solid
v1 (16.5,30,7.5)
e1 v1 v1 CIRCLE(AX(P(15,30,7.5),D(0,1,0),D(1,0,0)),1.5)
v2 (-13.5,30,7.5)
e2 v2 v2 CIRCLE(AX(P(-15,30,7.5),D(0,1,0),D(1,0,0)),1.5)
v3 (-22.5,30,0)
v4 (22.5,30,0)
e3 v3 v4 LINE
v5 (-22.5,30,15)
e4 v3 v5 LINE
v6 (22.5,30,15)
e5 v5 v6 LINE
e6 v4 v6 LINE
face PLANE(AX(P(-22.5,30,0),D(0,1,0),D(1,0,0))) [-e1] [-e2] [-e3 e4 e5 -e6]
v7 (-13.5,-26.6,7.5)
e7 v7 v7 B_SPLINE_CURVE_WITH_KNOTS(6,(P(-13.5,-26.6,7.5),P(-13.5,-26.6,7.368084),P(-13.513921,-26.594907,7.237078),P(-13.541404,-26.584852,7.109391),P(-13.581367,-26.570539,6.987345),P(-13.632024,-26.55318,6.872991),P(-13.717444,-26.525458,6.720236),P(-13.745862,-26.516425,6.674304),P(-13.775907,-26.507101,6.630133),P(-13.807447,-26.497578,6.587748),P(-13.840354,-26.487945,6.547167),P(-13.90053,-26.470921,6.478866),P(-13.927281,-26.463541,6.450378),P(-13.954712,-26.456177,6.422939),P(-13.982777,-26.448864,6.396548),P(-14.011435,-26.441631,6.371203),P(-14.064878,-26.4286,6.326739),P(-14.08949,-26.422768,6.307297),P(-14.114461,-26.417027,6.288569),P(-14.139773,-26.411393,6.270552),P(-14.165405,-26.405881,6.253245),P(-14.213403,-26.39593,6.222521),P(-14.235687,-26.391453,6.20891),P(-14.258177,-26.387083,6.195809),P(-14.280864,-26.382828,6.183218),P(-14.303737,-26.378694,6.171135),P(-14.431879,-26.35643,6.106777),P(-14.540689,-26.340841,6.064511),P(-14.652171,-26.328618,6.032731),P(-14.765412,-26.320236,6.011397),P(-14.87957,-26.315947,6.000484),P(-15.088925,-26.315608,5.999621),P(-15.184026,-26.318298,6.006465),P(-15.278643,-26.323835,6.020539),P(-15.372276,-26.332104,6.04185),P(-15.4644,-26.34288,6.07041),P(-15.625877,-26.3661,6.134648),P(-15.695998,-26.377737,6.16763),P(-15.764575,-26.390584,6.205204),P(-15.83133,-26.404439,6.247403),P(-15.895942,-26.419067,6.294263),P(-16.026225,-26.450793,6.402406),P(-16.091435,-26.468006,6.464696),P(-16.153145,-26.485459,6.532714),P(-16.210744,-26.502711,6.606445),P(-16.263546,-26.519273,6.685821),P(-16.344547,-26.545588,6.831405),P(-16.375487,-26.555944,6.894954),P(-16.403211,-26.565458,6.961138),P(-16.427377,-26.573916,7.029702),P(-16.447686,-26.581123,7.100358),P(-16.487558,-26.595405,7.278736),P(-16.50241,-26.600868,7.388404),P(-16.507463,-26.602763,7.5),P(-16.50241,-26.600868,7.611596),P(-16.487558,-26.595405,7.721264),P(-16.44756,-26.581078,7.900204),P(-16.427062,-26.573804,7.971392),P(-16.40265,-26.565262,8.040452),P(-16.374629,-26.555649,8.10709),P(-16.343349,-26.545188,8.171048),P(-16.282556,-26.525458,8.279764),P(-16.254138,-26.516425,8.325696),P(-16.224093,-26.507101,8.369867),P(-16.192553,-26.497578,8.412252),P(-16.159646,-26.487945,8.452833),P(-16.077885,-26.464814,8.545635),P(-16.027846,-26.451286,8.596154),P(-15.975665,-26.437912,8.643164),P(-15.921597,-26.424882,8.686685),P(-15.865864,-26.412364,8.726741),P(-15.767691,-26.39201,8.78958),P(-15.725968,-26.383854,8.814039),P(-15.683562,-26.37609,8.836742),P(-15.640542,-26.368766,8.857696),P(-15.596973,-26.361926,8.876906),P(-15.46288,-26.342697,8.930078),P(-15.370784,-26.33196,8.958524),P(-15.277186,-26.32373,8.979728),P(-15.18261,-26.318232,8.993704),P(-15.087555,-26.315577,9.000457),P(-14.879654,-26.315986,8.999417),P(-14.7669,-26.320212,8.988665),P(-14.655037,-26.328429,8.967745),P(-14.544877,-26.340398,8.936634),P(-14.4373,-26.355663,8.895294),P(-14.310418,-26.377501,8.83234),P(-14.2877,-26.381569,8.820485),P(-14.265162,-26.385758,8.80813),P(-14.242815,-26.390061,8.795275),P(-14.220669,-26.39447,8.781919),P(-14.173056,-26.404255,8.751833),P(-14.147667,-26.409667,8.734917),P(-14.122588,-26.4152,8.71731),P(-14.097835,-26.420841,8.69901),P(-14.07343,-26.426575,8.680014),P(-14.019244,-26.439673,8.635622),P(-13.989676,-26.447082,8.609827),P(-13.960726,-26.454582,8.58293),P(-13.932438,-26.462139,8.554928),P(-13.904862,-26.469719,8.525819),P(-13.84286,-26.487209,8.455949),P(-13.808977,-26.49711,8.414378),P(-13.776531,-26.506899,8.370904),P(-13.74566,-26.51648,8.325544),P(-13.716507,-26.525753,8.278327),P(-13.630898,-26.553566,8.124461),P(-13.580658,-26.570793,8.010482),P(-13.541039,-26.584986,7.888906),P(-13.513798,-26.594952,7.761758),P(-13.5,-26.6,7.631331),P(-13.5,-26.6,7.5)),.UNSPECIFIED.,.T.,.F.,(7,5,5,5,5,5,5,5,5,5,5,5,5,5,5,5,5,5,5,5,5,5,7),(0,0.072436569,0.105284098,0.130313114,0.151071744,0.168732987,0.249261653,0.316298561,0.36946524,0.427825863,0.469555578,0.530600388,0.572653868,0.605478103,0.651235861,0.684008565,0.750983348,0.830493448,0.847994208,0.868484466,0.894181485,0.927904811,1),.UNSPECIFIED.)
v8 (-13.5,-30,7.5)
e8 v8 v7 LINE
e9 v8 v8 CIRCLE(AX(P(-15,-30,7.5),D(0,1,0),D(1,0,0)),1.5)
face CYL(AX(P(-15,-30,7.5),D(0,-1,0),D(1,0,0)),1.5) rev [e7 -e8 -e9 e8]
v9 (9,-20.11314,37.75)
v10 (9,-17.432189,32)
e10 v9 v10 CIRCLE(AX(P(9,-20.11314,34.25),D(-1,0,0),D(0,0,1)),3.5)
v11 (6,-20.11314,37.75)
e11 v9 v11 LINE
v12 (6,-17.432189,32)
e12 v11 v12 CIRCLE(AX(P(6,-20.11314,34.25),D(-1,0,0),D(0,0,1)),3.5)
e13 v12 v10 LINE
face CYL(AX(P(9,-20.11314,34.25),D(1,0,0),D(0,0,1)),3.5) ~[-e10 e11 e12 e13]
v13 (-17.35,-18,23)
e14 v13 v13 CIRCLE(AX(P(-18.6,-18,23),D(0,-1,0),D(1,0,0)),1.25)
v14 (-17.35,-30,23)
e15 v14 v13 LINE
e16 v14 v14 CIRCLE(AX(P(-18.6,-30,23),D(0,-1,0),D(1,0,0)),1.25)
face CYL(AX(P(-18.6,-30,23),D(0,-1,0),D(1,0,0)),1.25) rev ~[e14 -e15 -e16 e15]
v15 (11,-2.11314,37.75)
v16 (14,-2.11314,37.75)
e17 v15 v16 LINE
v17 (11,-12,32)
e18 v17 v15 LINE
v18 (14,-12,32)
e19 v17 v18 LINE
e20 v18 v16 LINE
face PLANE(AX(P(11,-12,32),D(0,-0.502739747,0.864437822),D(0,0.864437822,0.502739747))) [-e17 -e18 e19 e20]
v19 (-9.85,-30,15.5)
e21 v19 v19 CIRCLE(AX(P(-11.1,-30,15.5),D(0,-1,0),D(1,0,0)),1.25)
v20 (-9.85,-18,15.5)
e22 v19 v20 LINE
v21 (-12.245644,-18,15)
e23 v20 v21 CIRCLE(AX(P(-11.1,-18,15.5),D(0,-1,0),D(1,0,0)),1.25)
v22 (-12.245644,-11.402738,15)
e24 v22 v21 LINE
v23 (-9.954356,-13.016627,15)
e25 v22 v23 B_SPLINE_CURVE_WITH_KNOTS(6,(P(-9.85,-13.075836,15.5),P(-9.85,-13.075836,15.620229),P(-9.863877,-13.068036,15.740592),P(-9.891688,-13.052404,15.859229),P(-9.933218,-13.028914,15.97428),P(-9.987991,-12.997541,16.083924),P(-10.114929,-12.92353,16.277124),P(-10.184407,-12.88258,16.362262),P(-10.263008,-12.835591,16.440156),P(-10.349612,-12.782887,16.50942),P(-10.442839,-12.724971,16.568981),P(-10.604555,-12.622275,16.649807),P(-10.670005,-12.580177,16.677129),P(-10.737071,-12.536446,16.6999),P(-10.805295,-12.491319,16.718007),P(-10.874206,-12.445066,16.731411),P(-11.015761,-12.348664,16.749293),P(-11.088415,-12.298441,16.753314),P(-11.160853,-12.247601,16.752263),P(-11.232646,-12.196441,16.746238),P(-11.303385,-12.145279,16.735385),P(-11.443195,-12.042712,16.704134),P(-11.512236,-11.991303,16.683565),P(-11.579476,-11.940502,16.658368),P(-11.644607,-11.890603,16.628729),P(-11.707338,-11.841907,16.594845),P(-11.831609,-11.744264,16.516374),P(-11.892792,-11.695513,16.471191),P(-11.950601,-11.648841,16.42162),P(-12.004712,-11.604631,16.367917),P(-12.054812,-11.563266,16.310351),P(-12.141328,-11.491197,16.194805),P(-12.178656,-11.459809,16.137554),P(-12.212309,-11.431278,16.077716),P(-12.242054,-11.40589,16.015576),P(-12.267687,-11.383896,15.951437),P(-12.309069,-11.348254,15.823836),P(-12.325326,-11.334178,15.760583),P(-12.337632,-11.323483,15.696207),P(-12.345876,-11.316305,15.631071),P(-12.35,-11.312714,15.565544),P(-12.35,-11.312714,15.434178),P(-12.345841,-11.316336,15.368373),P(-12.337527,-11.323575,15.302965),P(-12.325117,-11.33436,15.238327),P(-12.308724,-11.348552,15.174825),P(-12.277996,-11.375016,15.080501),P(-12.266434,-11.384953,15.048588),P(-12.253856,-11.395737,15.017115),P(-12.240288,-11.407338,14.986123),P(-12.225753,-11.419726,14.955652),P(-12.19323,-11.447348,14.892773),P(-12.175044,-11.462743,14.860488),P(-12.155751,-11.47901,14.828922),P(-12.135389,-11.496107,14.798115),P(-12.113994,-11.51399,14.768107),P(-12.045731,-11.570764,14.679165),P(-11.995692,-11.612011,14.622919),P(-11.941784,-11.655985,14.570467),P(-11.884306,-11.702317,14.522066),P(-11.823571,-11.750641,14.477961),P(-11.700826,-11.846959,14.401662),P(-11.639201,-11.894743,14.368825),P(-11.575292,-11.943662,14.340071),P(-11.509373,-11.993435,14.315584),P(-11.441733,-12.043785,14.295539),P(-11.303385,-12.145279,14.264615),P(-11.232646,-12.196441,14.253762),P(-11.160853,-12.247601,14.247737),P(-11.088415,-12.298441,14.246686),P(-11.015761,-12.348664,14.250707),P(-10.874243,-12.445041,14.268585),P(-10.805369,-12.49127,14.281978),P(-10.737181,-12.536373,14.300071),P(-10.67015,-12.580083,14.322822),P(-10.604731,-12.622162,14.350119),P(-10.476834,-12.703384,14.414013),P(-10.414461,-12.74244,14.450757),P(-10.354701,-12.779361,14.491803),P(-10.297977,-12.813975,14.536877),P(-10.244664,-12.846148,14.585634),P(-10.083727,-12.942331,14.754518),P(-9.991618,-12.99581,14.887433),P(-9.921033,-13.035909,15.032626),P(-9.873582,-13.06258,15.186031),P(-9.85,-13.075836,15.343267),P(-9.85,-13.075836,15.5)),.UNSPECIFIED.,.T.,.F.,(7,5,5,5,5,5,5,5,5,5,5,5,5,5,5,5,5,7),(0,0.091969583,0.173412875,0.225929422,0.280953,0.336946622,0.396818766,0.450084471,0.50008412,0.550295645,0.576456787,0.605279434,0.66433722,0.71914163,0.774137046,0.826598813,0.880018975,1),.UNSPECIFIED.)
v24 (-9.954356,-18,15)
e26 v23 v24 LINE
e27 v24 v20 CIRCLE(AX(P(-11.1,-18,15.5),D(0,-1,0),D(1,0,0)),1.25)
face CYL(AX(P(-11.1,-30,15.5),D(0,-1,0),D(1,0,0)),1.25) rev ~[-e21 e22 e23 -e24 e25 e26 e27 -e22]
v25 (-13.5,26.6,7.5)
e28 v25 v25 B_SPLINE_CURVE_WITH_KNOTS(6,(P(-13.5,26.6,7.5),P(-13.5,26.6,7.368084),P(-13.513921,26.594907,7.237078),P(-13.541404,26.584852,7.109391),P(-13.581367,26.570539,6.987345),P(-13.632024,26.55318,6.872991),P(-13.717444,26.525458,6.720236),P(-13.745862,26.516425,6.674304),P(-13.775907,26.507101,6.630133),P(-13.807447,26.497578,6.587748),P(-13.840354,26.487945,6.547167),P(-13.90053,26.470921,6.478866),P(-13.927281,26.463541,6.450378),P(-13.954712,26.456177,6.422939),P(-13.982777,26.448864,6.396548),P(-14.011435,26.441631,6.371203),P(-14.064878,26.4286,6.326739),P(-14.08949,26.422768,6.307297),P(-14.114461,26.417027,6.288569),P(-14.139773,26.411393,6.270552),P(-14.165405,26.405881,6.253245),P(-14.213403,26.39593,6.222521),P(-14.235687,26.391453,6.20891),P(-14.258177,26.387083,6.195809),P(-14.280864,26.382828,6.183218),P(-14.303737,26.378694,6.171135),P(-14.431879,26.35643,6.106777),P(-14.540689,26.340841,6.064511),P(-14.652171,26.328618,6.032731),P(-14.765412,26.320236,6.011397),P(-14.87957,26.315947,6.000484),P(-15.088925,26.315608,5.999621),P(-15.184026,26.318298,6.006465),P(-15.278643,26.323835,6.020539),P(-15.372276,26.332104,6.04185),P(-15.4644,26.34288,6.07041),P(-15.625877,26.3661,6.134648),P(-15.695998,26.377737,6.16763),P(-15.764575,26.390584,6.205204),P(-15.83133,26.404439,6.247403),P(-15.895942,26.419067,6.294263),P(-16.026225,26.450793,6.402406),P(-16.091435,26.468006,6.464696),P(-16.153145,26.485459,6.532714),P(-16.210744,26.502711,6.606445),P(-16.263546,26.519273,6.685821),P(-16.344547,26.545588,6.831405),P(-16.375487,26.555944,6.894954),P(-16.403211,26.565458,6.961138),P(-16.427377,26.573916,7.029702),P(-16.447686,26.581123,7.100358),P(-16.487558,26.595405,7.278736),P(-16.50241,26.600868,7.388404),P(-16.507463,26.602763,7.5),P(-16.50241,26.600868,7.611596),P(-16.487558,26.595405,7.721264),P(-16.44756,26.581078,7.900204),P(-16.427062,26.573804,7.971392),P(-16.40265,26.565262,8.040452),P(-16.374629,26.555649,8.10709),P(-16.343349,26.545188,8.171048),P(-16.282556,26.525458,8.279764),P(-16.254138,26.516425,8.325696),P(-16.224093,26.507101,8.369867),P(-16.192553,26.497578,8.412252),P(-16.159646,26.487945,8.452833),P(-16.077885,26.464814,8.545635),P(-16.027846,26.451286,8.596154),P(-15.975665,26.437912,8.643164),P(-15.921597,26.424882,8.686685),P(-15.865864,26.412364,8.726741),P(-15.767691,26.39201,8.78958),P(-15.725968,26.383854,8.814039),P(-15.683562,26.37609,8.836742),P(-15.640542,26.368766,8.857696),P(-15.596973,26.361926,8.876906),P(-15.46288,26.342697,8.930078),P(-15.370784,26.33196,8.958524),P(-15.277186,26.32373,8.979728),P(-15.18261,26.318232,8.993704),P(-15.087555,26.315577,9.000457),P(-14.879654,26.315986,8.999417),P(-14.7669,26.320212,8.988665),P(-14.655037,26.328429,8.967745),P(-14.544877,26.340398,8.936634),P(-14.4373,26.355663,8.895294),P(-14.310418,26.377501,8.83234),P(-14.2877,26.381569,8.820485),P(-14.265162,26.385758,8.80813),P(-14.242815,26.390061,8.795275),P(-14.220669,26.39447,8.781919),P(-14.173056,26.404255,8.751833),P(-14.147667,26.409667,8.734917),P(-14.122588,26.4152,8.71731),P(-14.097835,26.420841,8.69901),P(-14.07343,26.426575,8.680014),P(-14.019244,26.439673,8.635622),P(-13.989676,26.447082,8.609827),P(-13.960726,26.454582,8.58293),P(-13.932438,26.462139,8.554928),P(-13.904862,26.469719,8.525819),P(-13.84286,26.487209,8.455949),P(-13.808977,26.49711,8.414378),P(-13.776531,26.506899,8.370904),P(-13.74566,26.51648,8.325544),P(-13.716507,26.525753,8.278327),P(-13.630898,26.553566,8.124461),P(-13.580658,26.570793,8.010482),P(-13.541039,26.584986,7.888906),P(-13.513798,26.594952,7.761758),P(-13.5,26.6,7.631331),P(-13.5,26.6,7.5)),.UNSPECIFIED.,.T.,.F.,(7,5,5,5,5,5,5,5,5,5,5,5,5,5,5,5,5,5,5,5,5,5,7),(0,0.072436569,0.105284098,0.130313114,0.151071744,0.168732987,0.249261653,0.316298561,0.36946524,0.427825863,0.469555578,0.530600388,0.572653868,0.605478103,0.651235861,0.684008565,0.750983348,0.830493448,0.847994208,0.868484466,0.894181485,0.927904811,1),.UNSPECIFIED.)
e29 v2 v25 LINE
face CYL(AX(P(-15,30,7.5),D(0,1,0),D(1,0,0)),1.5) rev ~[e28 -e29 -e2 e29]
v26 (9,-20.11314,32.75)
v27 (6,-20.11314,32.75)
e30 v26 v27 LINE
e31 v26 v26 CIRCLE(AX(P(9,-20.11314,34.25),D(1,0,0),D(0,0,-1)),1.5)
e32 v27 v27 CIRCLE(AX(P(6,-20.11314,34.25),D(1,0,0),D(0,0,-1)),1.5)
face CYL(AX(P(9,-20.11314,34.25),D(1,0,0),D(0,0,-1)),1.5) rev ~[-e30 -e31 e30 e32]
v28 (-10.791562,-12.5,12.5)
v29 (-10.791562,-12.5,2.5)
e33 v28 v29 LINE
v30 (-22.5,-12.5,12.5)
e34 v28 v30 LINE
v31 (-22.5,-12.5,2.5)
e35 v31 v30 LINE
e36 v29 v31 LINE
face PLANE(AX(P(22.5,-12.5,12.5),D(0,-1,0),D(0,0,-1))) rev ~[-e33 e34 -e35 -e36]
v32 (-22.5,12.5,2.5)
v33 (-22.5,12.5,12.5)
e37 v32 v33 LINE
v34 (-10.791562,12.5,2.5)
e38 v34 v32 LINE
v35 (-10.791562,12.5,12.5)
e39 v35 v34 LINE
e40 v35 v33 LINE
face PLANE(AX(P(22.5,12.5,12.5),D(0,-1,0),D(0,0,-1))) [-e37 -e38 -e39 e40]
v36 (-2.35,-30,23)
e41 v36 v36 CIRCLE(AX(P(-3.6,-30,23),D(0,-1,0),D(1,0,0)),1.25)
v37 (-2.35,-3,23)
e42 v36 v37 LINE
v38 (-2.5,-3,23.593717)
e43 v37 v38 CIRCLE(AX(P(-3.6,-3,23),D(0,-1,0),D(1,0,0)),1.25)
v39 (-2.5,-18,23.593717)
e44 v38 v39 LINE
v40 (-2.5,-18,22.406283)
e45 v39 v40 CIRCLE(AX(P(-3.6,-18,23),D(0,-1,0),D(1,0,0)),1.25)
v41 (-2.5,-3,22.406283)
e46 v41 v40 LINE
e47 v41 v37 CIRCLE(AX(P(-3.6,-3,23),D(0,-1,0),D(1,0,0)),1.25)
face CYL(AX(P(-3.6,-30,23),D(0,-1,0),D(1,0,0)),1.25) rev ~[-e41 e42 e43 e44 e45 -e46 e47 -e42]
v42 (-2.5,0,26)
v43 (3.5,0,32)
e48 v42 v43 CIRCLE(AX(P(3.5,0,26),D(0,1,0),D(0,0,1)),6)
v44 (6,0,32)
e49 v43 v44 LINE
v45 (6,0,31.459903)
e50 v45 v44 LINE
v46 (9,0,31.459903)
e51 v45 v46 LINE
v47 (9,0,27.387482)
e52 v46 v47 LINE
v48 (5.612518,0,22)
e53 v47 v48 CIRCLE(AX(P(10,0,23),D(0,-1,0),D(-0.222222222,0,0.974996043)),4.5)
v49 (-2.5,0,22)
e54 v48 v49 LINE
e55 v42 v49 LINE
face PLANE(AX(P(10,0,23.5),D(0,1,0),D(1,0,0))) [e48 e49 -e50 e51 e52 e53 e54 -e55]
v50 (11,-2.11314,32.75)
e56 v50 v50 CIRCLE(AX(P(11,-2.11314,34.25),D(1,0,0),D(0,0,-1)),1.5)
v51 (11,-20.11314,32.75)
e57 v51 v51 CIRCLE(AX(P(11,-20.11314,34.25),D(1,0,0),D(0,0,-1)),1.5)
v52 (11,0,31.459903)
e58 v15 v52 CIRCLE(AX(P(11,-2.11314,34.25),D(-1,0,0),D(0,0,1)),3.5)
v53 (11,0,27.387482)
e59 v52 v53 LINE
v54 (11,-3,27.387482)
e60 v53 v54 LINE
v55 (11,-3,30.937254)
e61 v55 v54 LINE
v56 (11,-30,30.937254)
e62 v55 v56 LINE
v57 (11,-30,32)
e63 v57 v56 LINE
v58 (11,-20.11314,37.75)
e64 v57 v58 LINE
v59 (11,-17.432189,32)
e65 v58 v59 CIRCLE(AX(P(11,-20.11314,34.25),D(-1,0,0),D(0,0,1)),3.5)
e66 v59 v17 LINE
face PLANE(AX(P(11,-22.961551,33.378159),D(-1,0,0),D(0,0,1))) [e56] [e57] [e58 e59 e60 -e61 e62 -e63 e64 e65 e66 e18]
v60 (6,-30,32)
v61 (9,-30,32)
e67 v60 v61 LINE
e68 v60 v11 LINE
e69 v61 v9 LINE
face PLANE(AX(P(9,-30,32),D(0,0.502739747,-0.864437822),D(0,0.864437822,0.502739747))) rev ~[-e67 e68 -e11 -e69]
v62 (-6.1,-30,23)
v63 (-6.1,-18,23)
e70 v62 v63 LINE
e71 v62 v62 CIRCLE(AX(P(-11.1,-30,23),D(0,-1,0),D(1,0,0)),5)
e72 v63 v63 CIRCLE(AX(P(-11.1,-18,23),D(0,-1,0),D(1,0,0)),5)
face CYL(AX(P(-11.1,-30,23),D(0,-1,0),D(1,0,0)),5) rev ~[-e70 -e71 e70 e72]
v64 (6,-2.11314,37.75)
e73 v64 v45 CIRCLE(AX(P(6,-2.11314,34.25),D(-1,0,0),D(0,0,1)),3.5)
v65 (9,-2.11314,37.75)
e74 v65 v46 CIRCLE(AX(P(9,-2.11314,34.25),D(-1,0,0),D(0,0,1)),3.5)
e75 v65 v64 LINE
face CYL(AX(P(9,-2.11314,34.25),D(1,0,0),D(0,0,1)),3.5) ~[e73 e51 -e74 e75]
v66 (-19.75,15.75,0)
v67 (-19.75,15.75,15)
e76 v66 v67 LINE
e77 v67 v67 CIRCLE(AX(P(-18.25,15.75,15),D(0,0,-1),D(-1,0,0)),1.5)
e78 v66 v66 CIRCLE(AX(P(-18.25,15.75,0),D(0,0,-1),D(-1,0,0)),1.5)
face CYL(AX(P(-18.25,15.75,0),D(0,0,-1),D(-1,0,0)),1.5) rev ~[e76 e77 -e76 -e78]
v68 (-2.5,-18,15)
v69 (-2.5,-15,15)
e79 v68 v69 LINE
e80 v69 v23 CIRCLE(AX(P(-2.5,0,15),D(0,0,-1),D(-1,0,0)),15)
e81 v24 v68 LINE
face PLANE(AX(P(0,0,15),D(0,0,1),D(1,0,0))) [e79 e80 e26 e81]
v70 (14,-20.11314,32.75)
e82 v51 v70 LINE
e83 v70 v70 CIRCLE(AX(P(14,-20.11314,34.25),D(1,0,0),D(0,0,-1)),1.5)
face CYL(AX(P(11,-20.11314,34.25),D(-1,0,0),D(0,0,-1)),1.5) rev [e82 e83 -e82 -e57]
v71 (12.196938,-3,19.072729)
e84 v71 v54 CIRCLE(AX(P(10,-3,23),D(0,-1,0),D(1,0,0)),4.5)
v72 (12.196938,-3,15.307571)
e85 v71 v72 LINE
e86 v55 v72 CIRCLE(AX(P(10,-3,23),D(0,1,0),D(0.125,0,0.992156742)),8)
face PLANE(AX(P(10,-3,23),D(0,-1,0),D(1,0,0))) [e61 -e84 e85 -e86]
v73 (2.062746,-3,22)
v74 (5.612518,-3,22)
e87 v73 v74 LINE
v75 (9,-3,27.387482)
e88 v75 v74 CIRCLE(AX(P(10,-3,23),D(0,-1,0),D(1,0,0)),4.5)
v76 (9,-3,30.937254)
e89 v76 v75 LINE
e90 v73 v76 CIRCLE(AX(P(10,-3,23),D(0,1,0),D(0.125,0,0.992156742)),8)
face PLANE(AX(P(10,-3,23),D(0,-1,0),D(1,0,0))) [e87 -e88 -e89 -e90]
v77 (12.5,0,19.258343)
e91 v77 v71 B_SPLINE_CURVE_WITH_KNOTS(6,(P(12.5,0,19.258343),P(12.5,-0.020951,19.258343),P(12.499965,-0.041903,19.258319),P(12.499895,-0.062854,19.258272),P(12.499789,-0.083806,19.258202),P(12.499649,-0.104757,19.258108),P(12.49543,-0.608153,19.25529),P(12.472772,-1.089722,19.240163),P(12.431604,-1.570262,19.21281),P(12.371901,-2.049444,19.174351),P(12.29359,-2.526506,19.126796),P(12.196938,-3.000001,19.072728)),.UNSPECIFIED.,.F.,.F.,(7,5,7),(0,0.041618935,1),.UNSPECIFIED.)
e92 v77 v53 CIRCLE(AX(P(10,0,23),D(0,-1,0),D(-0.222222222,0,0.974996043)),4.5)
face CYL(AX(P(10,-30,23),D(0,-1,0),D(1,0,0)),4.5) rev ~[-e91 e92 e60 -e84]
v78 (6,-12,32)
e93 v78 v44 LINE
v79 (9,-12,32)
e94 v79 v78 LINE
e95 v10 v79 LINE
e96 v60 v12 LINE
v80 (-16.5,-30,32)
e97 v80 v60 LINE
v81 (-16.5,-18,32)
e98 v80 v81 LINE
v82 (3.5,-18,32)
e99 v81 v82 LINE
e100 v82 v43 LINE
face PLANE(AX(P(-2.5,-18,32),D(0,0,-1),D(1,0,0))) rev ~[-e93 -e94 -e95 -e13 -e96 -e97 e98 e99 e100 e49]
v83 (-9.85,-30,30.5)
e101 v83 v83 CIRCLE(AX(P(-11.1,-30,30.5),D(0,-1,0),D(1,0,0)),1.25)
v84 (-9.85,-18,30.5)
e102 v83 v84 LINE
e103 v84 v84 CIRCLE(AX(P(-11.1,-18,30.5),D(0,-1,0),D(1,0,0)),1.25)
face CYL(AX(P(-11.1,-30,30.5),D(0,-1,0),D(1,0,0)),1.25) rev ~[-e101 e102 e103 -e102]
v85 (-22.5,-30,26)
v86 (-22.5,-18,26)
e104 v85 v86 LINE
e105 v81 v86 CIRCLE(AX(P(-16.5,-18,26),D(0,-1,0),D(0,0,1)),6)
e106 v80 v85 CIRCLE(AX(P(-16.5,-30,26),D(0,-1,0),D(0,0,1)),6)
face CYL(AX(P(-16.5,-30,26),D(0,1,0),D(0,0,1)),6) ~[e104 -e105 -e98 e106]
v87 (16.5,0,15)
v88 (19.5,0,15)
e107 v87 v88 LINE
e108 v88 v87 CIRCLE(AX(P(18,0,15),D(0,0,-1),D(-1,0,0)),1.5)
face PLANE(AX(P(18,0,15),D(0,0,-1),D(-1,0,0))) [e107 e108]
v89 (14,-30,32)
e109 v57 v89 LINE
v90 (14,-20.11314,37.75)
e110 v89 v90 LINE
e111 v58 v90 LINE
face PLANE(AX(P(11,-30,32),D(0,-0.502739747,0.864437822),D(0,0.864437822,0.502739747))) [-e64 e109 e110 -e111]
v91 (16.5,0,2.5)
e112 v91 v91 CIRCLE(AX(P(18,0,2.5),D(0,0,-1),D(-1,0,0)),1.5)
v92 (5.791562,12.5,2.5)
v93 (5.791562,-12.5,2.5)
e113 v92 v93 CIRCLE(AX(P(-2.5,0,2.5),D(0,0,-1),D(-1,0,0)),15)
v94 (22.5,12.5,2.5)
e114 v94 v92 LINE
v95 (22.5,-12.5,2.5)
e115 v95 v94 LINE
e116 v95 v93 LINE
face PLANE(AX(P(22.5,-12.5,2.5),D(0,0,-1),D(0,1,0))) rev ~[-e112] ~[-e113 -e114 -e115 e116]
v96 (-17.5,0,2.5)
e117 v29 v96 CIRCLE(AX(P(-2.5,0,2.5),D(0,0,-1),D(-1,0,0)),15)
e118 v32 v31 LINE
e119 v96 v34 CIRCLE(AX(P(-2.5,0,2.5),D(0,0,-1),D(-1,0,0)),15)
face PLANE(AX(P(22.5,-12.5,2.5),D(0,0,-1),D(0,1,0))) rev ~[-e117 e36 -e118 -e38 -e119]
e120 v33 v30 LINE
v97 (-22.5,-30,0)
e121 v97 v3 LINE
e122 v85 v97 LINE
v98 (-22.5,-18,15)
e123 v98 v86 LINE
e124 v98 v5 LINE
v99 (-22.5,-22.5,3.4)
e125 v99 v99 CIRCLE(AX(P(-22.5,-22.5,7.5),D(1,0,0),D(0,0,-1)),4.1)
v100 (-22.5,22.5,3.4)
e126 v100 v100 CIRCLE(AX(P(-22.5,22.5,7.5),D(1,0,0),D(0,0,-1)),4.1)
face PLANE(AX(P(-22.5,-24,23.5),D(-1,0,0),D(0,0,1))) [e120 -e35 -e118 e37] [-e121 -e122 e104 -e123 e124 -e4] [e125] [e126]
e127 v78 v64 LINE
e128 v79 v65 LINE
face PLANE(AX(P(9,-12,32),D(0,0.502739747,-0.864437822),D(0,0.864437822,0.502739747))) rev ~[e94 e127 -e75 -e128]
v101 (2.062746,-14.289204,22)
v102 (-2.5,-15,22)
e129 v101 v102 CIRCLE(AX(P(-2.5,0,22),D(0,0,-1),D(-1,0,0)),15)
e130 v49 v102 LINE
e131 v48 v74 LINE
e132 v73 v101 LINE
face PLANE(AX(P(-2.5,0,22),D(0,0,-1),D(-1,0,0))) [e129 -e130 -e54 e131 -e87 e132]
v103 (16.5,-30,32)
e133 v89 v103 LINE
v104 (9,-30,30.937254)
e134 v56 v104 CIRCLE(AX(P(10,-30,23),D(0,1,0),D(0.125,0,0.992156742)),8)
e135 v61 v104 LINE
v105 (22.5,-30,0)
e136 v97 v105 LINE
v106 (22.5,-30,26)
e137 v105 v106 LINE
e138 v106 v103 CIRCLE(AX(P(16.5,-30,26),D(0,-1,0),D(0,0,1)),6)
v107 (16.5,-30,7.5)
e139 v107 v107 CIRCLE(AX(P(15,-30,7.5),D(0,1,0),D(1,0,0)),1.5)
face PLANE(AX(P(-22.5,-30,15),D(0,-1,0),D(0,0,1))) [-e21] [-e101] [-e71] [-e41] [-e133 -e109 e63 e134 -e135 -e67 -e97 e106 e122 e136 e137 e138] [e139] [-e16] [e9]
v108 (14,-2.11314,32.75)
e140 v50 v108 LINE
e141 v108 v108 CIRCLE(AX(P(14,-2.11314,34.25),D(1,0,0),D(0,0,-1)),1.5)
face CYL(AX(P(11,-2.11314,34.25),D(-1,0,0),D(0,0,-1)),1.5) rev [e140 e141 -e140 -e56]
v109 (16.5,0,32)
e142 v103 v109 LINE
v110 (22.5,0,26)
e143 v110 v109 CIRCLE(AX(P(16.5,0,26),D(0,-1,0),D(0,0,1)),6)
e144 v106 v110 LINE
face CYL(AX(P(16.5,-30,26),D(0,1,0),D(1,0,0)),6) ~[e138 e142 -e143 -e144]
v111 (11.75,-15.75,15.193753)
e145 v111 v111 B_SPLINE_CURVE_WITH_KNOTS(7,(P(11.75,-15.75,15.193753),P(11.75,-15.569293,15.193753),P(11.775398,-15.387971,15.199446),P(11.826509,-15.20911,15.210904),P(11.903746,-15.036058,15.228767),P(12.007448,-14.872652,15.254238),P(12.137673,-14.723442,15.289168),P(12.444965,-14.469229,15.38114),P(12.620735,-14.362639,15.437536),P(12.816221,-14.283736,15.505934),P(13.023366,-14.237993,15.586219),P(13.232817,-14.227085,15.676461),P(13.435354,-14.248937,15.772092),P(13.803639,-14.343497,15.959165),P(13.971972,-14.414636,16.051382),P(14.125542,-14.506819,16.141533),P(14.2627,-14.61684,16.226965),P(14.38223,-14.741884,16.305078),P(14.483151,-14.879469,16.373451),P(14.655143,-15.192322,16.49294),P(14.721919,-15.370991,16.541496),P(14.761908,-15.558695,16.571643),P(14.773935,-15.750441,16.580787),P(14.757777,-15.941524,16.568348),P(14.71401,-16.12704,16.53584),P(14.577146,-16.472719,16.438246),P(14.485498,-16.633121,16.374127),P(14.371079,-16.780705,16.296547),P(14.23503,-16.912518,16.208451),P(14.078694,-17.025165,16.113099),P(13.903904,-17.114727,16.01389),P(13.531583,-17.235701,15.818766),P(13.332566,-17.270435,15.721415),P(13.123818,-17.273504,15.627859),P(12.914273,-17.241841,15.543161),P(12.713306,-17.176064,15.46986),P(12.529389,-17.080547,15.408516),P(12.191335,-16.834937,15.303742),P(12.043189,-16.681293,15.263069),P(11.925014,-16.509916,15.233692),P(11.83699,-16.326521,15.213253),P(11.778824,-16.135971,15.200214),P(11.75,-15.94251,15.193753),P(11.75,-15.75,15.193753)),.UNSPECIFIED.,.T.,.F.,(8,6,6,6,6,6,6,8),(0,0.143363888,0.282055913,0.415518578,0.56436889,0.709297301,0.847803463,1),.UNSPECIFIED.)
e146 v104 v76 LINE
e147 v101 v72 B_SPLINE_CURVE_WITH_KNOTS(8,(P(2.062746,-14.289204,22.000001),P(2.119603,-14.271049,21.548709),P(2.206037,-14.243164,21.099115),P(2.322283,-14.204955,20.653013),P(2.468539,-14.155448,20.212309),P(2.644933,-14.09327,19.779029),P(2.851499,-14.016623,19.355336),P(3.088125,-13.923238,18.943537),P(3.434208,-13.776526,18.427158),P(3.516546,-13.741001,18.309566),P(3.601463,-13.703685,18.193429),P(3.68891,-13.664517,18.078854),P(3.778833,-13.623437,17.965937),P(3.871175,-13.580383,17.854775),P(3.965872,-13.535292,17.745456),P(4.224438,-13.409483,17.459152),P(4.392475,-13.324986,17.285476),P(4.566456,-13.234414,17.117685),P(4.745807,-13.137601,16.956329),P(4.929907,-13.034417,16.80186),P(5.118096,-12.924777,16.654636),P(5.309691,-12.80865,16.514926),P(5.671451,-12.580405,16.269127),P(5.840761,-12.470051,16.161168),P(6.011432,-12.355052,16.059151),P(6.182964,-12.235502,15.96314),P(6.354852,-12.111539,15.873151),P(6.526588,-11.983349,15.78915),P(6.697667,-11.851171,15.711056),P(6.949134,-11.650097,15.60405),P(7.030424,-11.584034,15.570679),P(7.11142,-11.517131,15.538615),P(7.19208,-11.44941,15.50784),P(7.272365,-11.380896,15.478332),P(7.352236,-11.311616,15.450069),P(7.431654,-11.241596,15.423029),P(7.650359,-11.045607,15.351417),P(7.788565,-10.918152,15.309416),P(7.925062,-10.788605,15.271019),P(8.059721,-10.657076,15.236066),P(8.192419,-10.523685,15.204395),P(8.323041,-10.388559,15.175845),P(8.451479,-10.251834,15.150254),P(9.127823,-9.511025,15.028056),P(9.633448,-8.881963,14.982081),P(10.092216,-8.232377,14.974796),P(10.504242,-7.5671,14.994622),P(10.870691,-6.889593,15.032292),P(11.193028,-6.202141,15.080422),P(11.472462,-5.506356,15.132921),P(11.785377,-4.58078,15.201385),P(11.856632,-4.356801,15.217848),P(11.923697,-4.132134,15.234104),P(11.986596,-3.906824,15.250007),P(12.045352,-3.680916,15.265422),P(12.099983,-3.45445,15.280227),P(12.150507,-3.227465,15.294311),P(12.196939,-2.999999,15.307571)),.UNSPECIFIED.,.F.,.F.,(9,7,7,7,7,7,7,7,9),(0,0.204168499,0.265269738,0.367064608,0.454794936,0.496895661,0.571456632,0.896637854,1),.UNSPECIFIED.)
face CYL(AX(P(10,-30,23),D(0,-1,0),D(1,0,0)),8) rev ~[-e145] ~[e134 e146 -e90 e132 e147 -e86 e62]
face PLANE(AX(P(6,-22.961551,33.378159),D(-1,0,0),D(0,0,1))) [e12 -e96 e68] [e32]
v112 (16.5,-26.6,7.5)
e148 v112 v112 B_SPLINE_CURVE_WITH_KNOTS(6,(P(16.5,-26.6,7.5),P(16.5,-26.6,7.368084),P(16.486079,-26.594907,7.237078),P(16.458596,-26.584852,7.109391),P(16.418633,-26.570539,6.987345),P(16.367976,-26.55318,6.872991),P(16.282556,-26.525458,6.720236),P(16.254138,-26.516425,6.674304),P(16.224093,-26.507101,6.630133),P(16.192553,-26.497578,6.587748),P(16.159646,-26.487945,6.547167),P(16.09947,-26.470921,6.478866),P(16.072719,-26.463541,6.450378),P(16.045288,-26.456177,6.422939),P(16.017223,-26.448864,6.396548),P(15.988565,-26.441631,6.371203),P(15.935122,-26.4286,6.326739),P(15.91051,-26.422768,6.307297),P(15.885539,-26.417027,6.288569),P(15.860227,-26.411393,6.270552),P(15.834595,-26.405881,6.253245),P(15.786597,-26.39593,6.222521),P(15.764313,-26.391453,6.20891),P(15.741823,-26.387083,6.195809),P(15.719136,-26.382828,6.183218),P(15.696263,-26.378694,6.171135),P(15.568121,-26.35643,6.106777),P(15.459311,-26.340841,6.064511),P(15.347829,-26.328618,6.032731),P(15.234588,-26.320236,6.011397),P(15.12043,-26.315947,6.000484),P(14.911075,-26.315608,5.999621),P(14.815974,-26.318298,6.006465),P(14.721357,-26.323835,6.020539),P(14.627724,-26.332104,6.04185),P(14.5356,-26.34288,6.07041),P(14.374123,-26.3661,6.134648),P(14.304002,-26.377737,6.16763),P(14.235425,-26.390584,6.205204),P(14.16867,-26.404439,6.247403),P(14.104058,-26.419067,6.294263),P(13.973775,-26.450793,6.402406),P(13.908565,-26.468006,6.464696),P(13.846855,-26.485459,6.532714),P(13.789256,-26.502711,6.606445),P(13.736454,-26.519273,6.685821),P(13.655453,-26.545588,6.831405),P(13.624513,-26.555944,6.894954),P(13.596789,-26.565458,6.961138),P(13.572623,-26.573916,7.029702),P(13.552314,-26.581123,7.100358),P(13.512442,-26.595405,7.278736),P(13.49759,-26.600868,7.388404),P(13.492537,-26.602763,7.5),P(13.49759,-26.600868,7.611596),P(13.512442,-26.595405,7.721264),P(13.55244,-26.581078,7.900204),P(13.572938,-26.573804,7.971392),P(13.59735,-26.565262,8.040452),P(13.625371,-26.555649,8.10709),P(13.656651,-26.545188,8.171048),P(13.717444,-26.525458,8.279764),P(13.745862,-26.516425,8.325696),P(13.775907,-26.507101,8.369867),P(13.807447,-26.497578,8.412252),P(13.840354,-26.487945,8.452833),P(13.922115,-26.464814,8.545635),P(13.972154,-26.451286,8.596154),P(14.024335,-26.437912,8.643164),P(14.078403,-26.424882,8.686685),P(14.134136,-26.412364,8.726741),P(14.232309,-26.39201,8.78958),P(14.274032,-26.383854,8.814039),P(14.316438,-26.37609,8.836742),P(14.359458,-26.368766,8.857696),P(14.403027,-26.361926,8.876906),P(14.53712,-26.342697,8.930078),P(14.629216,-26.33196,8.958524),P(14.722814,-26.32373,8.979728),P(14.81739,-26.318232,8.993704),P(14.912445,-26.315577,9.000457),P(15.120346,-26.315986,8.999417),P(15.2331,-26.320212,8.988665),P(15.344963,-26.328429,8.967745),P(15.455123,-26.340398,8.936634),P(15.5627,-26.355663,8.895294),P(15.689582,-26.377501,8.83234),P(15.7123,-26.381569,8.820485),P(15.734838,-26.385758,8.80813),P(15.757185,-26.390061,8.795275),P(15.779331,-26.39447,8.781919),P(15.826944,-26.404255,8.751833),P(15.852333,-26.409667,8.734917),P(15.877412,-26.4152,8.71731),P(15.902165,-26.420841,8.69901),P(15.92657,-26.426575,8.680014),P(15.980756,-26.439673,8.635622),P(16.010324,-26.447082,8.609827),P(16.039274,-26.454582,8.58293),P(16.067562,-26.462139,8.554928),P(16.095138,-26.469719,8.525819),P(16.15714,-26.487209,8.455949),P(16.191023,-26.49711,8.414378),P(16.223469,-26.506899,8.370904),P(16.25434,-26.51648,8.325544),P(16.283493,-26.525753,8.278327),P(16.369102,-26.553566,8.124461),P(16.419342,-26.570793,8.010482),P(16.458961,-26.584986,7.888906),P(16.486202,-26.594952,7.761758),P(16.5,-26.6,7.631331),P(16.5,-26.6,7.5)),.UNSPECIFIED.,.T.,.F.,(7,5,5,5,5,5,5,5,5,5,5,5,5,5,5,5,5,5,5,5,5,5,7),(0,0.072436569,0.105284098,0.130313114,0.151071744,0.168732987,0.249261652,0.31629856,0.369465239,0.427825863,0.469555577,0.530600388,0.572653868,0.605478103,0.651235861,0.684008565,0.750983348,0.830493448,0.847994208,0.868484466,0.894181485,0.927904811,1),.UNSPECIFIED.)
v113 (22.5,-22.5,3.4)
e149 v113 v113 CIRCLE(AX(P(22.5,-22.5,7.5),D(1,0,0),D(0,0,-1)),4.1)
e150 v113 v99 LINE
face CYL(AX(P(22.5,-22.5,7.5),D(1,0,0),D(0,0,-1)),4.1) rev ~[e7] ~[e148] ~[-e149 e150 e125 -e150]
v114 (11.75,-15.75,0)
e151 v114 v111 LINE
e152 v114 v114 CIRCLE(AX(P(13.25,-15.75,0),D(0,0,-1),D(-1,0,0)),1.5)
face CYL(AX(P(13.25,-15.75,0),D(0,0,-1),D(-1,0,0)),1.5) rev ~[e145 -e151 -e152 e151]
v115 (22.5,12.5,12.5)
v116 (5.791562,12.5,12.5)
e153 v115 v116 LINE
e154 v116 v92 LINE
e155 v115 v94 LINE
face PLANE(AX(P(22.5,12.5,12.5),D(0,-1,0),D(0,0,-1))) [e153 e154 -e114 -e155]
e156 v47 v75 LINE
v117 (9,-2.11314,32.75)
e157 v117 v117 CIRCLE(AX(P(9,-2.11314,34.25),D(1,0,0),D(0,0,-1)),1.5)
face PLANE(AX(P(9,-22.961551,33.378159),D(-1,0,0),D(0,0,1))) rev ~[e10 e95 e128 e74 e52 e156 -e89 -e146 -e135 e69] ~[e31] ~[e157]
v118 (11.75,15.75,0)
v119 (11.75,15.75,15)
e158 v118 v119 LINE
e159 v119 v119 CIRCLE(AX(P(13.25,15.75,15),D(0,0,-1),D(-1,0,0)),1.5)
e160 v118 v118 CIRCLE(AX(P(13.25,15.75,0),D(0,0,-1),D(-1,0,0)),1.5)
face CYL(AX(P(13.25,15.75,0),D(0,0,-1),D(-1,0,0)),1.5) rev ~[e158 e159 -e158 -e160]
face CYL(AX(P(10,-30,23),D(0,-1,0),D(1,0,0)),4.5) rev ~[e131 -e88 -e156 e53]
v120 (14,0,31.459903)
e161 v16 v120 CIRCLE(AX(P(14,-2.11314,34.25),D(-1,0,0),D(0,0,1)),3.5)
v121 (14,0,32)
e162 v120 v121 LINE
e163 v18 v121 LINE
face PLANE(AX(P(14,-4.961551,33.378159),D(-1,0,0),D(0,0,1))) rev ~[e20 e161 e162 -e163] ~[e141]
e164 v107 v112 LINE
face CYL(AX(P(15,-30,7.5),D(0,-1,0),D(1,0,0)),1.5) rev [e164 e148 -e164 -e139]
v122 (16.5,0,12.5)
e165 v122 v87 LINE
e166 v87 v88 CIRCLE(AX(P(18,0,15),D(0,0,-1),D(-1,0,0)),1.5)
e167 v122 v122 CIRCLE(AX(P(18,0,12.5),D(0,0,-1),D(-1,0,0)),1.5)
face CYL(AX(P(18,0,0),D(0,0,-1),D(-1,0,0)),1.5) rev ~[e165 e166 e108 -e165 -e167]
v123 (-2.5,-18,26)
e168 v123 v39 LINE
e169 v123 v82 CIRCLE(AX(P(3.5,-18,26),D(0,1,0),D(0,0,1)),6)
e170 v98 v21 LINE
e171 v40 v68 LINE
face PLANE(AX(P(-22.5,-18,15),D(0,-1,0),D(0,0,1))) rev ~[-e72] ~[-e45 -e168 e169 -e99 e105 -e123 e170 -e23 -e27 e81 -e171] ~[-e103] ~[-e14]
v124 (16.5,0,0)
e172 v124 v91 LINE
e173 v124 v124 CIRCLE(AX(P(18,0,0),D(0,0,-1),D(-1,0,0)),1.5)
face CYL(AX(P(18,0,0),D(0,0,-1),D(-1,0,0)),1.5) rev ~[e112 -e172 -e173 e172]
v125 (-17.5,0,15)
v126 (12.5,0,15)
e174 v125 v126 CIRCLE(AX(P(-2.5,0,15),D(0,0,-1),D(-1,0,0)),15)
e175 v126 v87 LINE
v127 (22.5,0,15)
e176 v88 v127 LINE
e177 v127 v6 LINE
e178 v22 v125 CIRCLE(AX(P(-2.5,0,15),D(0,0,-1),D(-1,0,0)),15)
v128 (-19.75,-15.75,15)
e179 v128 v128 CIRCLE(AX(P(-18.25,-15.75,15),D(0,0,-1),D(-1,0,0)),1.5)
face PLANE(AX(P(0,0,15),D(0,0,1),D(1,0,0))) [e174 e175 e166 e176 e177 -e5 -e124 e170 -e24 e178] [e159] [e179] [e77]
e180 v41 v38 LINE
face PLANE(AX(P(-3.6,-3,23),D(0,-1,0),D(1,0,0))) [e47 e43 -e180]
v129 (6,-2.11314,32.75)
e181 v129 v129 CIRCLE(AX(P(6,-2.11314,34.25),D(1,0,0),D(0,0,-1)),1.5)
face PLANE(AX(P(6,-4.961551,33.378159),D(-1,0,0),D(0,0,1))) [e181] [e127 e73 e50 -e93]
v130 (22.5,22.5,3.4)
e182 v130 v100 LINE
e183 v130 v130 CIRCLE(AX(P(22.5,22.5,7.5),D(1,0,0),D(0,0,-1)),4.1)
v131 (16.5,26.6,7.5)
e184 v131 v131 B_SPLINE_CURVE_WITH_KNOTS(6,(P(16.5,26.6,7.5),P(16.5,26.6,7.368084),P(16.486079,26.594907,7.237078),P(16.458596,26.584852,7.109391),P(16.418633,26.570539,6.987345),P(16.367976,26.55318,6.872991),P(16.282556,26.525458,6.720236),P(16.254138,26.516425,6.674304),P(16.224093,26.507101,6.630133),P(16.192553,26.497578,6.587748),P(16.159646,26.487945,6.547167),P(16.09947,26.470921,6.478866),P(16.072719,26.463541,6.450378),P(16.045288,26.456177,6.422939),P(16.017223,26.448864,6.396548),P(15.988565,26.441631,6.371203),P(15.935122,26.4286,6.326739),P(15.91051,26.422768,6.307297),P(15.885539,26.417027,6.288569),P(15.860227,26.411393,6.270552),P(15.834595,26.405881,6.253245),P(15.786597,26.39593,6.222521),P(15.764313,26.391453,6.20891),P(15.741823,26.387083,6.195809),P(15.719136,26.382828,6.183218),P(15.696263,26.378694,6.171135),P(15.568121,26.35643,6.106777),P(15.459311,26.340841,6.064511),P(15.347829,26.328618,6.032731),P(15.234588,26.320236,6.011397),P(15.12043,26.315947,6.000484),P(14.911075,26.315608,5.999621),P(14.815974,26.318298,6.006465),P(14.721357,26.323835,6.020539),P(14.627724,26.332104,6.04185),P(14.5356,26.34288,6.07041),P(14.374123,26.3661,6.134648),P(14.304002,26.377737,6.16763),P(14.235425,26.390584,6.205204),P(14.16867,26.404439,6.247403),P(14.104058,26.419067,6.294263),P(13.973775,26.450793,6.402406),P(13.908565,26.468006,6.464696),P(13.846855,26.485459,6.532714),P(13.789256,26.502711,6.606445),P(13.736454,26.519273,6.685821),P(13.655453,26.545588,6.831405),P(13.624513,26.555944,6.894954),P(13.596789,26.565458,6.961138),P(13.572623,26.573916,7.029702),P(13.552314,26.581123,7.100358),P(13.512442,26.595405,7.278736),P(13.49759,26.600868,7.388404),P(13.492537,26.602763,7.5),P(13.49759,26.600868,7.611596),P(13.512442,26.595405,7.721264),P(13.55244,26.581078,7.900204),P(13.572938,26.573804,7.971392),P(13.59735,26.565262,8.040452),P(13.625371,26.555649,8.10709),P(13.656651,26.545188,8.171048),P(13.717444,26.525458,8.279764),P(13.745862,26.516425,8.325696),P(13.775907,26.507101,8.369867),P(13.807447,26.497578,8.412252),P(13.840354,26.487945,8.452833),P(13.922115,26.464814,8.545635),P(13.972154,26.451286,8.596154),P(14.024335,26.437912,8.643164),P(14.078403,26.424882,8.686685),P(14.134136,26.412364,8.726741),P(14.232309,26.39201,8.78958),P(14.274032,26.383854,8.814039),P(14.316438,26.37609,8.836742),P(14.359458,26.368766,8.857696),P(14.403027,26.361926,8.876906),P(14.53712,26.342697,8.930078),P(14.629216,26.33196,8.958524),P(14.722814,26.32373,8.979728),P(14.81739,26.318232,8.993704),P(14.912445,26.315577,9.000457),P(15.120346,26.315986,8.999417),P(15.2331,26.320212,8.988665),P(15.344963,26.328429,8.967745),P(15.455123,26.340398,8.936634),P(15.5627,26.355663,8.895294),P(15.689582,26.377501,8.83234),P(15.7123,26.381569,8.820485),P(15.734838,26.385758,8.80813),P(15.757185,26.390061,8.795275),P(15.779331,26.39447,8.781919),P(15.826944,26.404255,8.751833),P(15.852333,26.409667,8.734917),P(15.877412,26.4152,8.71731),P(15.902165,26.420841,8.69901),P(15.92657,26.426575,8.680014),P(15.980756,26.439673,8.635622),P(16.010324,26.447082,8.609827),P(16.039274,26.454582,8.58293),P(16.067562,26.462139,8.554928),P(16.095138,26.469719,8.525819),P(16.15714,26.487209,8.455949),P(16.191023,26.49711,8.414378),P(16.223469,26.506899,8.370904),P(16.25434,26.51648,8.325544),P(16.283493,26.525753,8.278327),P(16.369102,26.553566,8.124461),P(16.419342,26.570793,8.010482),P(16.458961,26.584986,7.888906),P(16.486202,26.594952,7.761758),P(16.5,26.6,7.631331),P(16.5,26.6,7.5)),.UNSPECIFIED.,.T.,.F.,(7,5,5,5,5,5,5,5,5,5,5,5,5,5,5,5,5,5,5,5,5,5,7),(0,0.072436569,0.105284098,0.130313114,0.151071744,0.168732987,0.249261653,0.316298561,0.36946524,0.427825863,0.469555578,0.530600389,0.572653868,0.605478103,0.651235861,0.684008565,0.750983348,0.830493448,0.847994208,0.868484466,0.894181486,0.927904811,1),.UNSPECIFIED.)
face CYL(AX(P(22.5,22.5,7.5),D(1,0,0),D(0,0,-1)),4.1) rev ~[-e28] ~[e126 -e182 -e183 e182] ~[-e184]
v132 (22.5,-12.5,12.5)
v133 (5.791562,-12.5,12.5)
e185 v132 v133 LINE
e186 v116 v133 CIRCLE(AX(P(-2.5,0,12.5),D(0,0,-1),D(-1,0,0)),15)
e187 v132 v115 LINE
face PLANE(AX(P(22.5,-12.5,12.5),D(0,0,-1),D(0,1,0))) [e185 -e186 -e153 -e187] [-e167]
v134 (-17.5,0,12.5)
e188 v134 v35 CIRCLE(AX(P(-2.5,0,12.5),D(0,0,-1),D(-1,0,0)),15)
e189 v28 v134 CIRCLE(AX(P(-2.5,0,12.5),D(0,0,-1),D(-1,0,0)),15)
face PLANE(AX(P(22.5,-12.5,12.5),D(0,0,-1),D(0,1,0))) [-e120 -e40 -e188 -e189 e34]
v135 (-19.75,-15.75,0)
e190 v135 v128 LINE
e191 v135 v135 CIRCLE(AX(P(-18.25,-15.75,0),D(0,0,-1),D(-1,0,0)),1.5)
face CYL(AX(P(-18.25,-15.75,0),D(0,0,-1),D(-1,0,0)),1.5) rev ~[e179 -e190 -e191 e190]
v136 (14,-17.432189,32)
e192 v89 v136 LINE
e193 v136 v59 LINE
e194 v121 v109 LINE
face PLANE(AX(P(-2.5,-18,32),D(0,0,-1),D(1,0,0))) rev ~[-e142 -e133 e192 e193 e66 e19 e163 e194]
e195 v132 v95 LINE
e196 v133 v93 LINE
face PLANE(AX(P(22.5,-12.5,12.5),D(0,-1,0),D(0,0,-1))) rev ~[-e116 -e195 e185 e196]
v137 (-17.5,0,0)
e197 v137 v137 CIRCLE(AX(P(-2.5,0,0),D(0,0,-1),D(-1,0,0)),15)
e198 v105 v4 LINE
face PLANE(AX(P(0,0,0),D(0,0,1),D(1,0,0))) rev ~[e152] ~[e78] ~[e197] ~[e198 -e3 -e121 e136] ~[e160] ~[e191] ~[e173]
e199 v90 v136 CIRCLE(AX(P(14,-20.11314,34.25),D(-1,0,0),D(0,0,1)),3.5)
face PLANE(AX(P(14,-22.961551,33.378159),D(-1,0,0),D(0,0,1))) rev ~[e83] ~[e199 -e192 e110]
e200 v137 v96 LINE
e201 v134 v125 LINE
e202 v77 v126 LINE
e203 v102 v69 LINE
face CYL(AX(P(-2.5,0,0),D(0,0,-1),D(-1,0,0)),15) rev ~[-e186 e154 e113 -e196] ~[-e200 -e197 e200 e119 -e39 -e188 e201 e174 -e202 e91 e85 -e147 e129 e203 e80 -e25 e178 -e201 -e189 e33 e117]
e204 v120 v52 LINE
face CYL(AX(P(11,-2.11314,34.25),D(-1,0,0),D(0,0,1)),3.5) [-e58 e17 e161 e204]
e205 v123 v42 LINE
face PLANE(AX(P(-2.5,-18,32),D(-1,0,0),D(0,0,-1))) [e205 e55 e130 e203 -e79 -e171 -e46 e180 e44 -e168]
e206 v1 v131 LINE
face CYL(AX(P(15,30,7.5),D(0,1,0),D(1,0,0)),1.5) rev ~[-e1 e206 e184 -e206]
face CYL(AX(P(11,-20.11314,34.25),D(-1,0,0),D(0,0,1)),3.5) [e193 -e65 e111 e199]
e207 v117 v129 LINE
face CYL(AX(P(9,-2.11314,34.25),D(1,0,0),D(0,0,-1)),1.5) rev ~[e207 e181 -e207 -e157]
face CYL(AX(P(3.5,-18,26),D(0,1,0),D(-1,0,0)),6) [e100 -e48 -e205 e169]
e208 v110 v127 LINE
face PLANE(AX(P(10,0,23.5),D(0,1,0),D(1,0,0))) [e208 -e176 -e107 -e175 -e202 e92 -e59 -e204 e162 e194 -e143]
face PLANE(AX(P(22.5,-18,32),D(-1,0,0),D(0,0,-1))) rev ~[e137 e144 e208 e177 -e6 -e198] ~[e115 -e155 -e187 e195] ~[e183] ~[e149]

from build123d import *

# Parameters (mm, degrees)
SKETCH1_W           = 45
SKETCH1_H           = 60
BOSS_EXTRUDE1_DEPTH = 15
SKETCH2_R           = 4.1
SKETCH2_W           = 10
SKETCH2_H           = 25
CUT_EXTRUDE1_DEPTH  = 46
SKETCH3_W           = 17
SKETCH3_H           = 12
BOSS_EXTRUDE2_DEPTH = 45
SKETCH4_W           = 25
SKETCH4_H           = 17
BOSS_EXTRUDE3_DEPTH = 18
SKETCH5_W           = 2
SKETCH5_H           = 30
CUT_EXTRUDE2_DEPTH  = 5
SKETCH6_R           = 4.5
CUT_EXTRUDE3_DEPTH  = 61
SKETCH7_R           = 8
SKETCH7_R_2         = 5
SKETCH7_R_3         = 1.25
CUT_EXTRUDE4_DEPTH  = 27
SKETCH8_R           = 15
SKETCH8_R_2         = 1.5
CUT_EXTRUDE5_DEPTH  = 22
FILLET1_R           = 6
SKETCH9_R           = 1.5
CUT_EXTRUDE6_DEPTH  = 15
SKETCH10_R          = 1.5
CUT_EXTRUDE7_DEPTH  = 5
CUT_EXTRUDE8_START  = -60
SKETCH10_2_R        = 1.5
CUT_EXTRUDE8_DEPTH  = 5
SKETCH12_R          = 1.5
BOSS_EXTRUDE4_DEPTH = 3
BOSS_EXTRUDE5_START = 2
SKETCH12_3_R        = 1.5
BOSS_EXTRUDE5_DEPTH = 3


with BuildPart() as part:
    # Sketch1 → Boss-Extrude1 (new body)
    with BuildSketch(Plane.XY):
        Rectangle(SKETCH1_W, SKETCH1_H)
    extrude(amount=BOSS_EXTRUDE1_DEPTH)

    # Sketch2 → Cut-Extrude1 (cut, through all)
    with BuildSketch(Plane(origin=(22.5, 0, 0), x_dir=(0, 0, -1), z_dir=(1, 0, 0))):
        with Locations((-7.5, 22.5)):
            Circle(SKETCH2_R)
        with Locations((-7.5, -22.5)):
            Circle(SKETCH2_R)
        with Locations((-7.5, 0)):
            Rectangle(SKETCH2_W, SKETCH2_H)
    extrude(amount=-CUT_EXTRUDE1_DEPTH, mode=Mode.SUBTRACT)

    # Sketch3 → Boss-Extrude2 (add)
    with BuildSketch(Plane.ZY.offset(22.5)):
        with Locations((23.5, -24)):
            Rectangle(SKETCH3_W, SKETCH3_H)
    extrude(amount=-BOSS_EXTRUDE2_DEPTH)

    # Sketch4 → Boss-Extrude3 (add)
    with BuildSketch(Plane(origin=(0, -18, 0), x_dir=(1, 0, 0), z_dir=(0, 1, 0))):
        with Locations((10, -23.5)):
            Rectangle(SKETCH4_W, SKETCH4_H)
    extrude(amount=BOSS_EXTRUDE3_DEPTH)

    # Sketch5 → Cut-Extrude2 (cut)
    with BuildSketch(Plane.XY.offset(32)):
        with Locations((10, -15)):
            Rectangle(SKETCH5_W, SKETCH5_H)
    extrude(amount=-CUT_EXTRUDE2_DEPTH, mode=Mode.SUBTRACT)

    # Sketch6 → Cut-Extrude3 (cut, through all)
    with BuildSketch(Plane.XZ.offset(30)):
        with Locations((10, 23)):
            Circle(SKETCH6_R)
    extrude(amount=-CUT_EXTRUDE3_DEPTH, mode=Mode.SUBTRACT)

    # Sketch7 → Cut-Extrude4 (cut)
    with BuildSketch(Plane.XZ.offset(30)):
        with Locations((10, 23)):
            Circle(SKETCH7_R)
        with Locations((-11.1, 23)):
            Circle(SKETCH7_R_2)
        with Locations((-3.6, 23)):
            Circle(SKETCH7_R_3)
        with Locations((-11.1, 30.5)):
            Circle(SKETCH7_R_3)
        with Locations((-11.1, 15.5)):
            Circle(SKETCH7_R_3)
        with Locations((-18.6, 23)):
            Circle(SKETCH7_R_3)
    extrude(amount=-CUT_EXTRUDE4_DEPTH, mode=Mode.SUBTRACT)

    # Sketch8 → Cut-Extrude5 (cut)
    with BuildSketch(Plane(origin=(0, 0, 0), x_dir=(-1, 0, 0), z_dir=(0, 0, -1))):
        with Locations((2.5, 0)):
            Circle(SKETCH8_R)
        with Locations((18.25, 15.75)):
            Circle(SKETCH8_R_2)
        with Locations((-13.25, 15.75)):
            Circle(SKETCH8_R_2)
        with Locations((-13.25, -15.75)):
            Circle(SKETCH8_R_2)
        with Locations((18.25, -15.75)):
            Circle(SKETCH8_R_2)
    extrude(amount=-CUT_EXTRUDE5_DEPTH, mode=Mode.SUBTRACT)

    # Fillet1
    fillet1_edges = [part.edges().sort_by_distance(p)[0] for p in [
        (-22.5, -24, 32),
        (-2.5, -9, 32),
        (22.5, -15, 32),
    ]]
    fillet(fillet1_edges, radius=FILLET1_R)

    # Sketch9 → Cut-Extrude6 (cut)
    with BuildSketch(Plane(origin=(0, 0, 0), x_dir=(-1, 0, 0), z_dir=(0, 0, -1))):
        with Locations((-18, 0)):
            Circle(SKETCH9_R)
    extrude(amount=-CUT_EXTRUDE6_DEPTH, mode=Mode.SUBTRACT)

    # Sketch10 → Cut-Extrude7 (cut)
    with BuildSketch(Plane(origin=(0, 30, 0), x_dir=(1, 0, 0), z_dir=(0, 1, 0))):
        with Locations((-15, -7.5)):
            Circle(SKETCH10_R)
        with Locations((15, -7.5)):
            Circle(SKETCH10_R)
    extrude(amount=-CUT_EXTRUDE7_DEPTH, mode=Mode.SUBTRACT)

    # Sketch10<2> → Cut-Extrude8 (cut)
    with BuildSketch(Plane(origin=(0, 30, 0), x_dir=(1, 0, 0), z_dir=(0, 1, 0)).offset(CUT_EXTRUDE8_START)):
        with Locations((-15, -7.5)):
            Circle(SKETCH10_2_R)
        with Locations((15, -7.5)):
            Circle(SKETCH10_2_R)
    extrude(amount=CUT_EXTRUDE8_DEPTH, mode=Mode.SUBTRACT)

    # Sketch12 → Boss-Extrude4 (add)
    with BuildSketch(Plane(origin=(9, 0, 0), x_dir=(0, 0, -1), z_dir=(1, 0, 0))):
        with BuildLine():
            Line((-32, -30), (-37.75, -20.113140033))
            ThreePointArc((-37.75, -20.113140033), (-34.822445965, -16.660270847), (-30.937253933, -18.983665157))
            Line((-30.937253933, -18.983665157), (-30.937253933, -30))
            Line((-30.937253933, -30), (-32, -30))
        make_face()
        with Locations((-34.25, -20.113140033)):
            Circle(SKETCH12_R, mode=Mode.SUBTRACT)
        with BuildLine():
            Line((-32, -12), (-37.75, -2.113140033))
            ThreePointArc((-37.75, -2.113140033), (-34.822445965, 1.339729153), (-30.937253933, -0.983665157))
            Line((-30.937253933, -0.983665157), (-30.937253933, -12))
            Line((-30.937253933, -12), (-32, -12))
        make_face()
        with Locations((-34.25, -2.113140033)):
            Circle(SKETCH12_R, mode=Mode.SUBTRACT)
    extrude(amount=-BOSS_EXTRUDE4_DEPTH)

    # Sketch12<3> → Boss-Extrude5 (add)
    with BuildSketch(Plane(origin=(9, 0, 0), x_dir=(0, 0, -1), z_dir=(1, 0, 0)).offset(BOSS_EXTRUDE5_START)):
        with BuildLine():
            Line((-32, -30), (-37.75, -20.113140033))
            ThreePointArc((-37.75, -20.113140033), (-34.822445965, -16.660270847), (-30.937253933, -18.983665157))
            Line((-30.937253933, -18.983665157), (-30.937253933, -30))
            Line((-30.937253933, -30), (-32, -30))
        make_face()
        with Locations((-34.25, -20.113140033)):
            Circle(SKETCH12_3_R, mode=Mode.SUBTRACT)
        with BuildLine():
            Line((-32, -12), (-37.75, -2.113140033))
            ThreePointArc((-37.75, -2.113140033), (-34.822445965, 1.339729153), (-30.937253933, -0.983665157))
            Line((-30.937253933, -0.983665157), (-30.937253933, -12))
            Line((-30.937253933, -12), (-32, -12))
        make_face()
        with Locations((-34.25, -2.113140033)):
            Circle(SKETCH12_3_R, mode=Mode.SUBTRACT)
    extrude(amount=BOSS_EXTRUDE5_DEPTH)


solid = part.part
